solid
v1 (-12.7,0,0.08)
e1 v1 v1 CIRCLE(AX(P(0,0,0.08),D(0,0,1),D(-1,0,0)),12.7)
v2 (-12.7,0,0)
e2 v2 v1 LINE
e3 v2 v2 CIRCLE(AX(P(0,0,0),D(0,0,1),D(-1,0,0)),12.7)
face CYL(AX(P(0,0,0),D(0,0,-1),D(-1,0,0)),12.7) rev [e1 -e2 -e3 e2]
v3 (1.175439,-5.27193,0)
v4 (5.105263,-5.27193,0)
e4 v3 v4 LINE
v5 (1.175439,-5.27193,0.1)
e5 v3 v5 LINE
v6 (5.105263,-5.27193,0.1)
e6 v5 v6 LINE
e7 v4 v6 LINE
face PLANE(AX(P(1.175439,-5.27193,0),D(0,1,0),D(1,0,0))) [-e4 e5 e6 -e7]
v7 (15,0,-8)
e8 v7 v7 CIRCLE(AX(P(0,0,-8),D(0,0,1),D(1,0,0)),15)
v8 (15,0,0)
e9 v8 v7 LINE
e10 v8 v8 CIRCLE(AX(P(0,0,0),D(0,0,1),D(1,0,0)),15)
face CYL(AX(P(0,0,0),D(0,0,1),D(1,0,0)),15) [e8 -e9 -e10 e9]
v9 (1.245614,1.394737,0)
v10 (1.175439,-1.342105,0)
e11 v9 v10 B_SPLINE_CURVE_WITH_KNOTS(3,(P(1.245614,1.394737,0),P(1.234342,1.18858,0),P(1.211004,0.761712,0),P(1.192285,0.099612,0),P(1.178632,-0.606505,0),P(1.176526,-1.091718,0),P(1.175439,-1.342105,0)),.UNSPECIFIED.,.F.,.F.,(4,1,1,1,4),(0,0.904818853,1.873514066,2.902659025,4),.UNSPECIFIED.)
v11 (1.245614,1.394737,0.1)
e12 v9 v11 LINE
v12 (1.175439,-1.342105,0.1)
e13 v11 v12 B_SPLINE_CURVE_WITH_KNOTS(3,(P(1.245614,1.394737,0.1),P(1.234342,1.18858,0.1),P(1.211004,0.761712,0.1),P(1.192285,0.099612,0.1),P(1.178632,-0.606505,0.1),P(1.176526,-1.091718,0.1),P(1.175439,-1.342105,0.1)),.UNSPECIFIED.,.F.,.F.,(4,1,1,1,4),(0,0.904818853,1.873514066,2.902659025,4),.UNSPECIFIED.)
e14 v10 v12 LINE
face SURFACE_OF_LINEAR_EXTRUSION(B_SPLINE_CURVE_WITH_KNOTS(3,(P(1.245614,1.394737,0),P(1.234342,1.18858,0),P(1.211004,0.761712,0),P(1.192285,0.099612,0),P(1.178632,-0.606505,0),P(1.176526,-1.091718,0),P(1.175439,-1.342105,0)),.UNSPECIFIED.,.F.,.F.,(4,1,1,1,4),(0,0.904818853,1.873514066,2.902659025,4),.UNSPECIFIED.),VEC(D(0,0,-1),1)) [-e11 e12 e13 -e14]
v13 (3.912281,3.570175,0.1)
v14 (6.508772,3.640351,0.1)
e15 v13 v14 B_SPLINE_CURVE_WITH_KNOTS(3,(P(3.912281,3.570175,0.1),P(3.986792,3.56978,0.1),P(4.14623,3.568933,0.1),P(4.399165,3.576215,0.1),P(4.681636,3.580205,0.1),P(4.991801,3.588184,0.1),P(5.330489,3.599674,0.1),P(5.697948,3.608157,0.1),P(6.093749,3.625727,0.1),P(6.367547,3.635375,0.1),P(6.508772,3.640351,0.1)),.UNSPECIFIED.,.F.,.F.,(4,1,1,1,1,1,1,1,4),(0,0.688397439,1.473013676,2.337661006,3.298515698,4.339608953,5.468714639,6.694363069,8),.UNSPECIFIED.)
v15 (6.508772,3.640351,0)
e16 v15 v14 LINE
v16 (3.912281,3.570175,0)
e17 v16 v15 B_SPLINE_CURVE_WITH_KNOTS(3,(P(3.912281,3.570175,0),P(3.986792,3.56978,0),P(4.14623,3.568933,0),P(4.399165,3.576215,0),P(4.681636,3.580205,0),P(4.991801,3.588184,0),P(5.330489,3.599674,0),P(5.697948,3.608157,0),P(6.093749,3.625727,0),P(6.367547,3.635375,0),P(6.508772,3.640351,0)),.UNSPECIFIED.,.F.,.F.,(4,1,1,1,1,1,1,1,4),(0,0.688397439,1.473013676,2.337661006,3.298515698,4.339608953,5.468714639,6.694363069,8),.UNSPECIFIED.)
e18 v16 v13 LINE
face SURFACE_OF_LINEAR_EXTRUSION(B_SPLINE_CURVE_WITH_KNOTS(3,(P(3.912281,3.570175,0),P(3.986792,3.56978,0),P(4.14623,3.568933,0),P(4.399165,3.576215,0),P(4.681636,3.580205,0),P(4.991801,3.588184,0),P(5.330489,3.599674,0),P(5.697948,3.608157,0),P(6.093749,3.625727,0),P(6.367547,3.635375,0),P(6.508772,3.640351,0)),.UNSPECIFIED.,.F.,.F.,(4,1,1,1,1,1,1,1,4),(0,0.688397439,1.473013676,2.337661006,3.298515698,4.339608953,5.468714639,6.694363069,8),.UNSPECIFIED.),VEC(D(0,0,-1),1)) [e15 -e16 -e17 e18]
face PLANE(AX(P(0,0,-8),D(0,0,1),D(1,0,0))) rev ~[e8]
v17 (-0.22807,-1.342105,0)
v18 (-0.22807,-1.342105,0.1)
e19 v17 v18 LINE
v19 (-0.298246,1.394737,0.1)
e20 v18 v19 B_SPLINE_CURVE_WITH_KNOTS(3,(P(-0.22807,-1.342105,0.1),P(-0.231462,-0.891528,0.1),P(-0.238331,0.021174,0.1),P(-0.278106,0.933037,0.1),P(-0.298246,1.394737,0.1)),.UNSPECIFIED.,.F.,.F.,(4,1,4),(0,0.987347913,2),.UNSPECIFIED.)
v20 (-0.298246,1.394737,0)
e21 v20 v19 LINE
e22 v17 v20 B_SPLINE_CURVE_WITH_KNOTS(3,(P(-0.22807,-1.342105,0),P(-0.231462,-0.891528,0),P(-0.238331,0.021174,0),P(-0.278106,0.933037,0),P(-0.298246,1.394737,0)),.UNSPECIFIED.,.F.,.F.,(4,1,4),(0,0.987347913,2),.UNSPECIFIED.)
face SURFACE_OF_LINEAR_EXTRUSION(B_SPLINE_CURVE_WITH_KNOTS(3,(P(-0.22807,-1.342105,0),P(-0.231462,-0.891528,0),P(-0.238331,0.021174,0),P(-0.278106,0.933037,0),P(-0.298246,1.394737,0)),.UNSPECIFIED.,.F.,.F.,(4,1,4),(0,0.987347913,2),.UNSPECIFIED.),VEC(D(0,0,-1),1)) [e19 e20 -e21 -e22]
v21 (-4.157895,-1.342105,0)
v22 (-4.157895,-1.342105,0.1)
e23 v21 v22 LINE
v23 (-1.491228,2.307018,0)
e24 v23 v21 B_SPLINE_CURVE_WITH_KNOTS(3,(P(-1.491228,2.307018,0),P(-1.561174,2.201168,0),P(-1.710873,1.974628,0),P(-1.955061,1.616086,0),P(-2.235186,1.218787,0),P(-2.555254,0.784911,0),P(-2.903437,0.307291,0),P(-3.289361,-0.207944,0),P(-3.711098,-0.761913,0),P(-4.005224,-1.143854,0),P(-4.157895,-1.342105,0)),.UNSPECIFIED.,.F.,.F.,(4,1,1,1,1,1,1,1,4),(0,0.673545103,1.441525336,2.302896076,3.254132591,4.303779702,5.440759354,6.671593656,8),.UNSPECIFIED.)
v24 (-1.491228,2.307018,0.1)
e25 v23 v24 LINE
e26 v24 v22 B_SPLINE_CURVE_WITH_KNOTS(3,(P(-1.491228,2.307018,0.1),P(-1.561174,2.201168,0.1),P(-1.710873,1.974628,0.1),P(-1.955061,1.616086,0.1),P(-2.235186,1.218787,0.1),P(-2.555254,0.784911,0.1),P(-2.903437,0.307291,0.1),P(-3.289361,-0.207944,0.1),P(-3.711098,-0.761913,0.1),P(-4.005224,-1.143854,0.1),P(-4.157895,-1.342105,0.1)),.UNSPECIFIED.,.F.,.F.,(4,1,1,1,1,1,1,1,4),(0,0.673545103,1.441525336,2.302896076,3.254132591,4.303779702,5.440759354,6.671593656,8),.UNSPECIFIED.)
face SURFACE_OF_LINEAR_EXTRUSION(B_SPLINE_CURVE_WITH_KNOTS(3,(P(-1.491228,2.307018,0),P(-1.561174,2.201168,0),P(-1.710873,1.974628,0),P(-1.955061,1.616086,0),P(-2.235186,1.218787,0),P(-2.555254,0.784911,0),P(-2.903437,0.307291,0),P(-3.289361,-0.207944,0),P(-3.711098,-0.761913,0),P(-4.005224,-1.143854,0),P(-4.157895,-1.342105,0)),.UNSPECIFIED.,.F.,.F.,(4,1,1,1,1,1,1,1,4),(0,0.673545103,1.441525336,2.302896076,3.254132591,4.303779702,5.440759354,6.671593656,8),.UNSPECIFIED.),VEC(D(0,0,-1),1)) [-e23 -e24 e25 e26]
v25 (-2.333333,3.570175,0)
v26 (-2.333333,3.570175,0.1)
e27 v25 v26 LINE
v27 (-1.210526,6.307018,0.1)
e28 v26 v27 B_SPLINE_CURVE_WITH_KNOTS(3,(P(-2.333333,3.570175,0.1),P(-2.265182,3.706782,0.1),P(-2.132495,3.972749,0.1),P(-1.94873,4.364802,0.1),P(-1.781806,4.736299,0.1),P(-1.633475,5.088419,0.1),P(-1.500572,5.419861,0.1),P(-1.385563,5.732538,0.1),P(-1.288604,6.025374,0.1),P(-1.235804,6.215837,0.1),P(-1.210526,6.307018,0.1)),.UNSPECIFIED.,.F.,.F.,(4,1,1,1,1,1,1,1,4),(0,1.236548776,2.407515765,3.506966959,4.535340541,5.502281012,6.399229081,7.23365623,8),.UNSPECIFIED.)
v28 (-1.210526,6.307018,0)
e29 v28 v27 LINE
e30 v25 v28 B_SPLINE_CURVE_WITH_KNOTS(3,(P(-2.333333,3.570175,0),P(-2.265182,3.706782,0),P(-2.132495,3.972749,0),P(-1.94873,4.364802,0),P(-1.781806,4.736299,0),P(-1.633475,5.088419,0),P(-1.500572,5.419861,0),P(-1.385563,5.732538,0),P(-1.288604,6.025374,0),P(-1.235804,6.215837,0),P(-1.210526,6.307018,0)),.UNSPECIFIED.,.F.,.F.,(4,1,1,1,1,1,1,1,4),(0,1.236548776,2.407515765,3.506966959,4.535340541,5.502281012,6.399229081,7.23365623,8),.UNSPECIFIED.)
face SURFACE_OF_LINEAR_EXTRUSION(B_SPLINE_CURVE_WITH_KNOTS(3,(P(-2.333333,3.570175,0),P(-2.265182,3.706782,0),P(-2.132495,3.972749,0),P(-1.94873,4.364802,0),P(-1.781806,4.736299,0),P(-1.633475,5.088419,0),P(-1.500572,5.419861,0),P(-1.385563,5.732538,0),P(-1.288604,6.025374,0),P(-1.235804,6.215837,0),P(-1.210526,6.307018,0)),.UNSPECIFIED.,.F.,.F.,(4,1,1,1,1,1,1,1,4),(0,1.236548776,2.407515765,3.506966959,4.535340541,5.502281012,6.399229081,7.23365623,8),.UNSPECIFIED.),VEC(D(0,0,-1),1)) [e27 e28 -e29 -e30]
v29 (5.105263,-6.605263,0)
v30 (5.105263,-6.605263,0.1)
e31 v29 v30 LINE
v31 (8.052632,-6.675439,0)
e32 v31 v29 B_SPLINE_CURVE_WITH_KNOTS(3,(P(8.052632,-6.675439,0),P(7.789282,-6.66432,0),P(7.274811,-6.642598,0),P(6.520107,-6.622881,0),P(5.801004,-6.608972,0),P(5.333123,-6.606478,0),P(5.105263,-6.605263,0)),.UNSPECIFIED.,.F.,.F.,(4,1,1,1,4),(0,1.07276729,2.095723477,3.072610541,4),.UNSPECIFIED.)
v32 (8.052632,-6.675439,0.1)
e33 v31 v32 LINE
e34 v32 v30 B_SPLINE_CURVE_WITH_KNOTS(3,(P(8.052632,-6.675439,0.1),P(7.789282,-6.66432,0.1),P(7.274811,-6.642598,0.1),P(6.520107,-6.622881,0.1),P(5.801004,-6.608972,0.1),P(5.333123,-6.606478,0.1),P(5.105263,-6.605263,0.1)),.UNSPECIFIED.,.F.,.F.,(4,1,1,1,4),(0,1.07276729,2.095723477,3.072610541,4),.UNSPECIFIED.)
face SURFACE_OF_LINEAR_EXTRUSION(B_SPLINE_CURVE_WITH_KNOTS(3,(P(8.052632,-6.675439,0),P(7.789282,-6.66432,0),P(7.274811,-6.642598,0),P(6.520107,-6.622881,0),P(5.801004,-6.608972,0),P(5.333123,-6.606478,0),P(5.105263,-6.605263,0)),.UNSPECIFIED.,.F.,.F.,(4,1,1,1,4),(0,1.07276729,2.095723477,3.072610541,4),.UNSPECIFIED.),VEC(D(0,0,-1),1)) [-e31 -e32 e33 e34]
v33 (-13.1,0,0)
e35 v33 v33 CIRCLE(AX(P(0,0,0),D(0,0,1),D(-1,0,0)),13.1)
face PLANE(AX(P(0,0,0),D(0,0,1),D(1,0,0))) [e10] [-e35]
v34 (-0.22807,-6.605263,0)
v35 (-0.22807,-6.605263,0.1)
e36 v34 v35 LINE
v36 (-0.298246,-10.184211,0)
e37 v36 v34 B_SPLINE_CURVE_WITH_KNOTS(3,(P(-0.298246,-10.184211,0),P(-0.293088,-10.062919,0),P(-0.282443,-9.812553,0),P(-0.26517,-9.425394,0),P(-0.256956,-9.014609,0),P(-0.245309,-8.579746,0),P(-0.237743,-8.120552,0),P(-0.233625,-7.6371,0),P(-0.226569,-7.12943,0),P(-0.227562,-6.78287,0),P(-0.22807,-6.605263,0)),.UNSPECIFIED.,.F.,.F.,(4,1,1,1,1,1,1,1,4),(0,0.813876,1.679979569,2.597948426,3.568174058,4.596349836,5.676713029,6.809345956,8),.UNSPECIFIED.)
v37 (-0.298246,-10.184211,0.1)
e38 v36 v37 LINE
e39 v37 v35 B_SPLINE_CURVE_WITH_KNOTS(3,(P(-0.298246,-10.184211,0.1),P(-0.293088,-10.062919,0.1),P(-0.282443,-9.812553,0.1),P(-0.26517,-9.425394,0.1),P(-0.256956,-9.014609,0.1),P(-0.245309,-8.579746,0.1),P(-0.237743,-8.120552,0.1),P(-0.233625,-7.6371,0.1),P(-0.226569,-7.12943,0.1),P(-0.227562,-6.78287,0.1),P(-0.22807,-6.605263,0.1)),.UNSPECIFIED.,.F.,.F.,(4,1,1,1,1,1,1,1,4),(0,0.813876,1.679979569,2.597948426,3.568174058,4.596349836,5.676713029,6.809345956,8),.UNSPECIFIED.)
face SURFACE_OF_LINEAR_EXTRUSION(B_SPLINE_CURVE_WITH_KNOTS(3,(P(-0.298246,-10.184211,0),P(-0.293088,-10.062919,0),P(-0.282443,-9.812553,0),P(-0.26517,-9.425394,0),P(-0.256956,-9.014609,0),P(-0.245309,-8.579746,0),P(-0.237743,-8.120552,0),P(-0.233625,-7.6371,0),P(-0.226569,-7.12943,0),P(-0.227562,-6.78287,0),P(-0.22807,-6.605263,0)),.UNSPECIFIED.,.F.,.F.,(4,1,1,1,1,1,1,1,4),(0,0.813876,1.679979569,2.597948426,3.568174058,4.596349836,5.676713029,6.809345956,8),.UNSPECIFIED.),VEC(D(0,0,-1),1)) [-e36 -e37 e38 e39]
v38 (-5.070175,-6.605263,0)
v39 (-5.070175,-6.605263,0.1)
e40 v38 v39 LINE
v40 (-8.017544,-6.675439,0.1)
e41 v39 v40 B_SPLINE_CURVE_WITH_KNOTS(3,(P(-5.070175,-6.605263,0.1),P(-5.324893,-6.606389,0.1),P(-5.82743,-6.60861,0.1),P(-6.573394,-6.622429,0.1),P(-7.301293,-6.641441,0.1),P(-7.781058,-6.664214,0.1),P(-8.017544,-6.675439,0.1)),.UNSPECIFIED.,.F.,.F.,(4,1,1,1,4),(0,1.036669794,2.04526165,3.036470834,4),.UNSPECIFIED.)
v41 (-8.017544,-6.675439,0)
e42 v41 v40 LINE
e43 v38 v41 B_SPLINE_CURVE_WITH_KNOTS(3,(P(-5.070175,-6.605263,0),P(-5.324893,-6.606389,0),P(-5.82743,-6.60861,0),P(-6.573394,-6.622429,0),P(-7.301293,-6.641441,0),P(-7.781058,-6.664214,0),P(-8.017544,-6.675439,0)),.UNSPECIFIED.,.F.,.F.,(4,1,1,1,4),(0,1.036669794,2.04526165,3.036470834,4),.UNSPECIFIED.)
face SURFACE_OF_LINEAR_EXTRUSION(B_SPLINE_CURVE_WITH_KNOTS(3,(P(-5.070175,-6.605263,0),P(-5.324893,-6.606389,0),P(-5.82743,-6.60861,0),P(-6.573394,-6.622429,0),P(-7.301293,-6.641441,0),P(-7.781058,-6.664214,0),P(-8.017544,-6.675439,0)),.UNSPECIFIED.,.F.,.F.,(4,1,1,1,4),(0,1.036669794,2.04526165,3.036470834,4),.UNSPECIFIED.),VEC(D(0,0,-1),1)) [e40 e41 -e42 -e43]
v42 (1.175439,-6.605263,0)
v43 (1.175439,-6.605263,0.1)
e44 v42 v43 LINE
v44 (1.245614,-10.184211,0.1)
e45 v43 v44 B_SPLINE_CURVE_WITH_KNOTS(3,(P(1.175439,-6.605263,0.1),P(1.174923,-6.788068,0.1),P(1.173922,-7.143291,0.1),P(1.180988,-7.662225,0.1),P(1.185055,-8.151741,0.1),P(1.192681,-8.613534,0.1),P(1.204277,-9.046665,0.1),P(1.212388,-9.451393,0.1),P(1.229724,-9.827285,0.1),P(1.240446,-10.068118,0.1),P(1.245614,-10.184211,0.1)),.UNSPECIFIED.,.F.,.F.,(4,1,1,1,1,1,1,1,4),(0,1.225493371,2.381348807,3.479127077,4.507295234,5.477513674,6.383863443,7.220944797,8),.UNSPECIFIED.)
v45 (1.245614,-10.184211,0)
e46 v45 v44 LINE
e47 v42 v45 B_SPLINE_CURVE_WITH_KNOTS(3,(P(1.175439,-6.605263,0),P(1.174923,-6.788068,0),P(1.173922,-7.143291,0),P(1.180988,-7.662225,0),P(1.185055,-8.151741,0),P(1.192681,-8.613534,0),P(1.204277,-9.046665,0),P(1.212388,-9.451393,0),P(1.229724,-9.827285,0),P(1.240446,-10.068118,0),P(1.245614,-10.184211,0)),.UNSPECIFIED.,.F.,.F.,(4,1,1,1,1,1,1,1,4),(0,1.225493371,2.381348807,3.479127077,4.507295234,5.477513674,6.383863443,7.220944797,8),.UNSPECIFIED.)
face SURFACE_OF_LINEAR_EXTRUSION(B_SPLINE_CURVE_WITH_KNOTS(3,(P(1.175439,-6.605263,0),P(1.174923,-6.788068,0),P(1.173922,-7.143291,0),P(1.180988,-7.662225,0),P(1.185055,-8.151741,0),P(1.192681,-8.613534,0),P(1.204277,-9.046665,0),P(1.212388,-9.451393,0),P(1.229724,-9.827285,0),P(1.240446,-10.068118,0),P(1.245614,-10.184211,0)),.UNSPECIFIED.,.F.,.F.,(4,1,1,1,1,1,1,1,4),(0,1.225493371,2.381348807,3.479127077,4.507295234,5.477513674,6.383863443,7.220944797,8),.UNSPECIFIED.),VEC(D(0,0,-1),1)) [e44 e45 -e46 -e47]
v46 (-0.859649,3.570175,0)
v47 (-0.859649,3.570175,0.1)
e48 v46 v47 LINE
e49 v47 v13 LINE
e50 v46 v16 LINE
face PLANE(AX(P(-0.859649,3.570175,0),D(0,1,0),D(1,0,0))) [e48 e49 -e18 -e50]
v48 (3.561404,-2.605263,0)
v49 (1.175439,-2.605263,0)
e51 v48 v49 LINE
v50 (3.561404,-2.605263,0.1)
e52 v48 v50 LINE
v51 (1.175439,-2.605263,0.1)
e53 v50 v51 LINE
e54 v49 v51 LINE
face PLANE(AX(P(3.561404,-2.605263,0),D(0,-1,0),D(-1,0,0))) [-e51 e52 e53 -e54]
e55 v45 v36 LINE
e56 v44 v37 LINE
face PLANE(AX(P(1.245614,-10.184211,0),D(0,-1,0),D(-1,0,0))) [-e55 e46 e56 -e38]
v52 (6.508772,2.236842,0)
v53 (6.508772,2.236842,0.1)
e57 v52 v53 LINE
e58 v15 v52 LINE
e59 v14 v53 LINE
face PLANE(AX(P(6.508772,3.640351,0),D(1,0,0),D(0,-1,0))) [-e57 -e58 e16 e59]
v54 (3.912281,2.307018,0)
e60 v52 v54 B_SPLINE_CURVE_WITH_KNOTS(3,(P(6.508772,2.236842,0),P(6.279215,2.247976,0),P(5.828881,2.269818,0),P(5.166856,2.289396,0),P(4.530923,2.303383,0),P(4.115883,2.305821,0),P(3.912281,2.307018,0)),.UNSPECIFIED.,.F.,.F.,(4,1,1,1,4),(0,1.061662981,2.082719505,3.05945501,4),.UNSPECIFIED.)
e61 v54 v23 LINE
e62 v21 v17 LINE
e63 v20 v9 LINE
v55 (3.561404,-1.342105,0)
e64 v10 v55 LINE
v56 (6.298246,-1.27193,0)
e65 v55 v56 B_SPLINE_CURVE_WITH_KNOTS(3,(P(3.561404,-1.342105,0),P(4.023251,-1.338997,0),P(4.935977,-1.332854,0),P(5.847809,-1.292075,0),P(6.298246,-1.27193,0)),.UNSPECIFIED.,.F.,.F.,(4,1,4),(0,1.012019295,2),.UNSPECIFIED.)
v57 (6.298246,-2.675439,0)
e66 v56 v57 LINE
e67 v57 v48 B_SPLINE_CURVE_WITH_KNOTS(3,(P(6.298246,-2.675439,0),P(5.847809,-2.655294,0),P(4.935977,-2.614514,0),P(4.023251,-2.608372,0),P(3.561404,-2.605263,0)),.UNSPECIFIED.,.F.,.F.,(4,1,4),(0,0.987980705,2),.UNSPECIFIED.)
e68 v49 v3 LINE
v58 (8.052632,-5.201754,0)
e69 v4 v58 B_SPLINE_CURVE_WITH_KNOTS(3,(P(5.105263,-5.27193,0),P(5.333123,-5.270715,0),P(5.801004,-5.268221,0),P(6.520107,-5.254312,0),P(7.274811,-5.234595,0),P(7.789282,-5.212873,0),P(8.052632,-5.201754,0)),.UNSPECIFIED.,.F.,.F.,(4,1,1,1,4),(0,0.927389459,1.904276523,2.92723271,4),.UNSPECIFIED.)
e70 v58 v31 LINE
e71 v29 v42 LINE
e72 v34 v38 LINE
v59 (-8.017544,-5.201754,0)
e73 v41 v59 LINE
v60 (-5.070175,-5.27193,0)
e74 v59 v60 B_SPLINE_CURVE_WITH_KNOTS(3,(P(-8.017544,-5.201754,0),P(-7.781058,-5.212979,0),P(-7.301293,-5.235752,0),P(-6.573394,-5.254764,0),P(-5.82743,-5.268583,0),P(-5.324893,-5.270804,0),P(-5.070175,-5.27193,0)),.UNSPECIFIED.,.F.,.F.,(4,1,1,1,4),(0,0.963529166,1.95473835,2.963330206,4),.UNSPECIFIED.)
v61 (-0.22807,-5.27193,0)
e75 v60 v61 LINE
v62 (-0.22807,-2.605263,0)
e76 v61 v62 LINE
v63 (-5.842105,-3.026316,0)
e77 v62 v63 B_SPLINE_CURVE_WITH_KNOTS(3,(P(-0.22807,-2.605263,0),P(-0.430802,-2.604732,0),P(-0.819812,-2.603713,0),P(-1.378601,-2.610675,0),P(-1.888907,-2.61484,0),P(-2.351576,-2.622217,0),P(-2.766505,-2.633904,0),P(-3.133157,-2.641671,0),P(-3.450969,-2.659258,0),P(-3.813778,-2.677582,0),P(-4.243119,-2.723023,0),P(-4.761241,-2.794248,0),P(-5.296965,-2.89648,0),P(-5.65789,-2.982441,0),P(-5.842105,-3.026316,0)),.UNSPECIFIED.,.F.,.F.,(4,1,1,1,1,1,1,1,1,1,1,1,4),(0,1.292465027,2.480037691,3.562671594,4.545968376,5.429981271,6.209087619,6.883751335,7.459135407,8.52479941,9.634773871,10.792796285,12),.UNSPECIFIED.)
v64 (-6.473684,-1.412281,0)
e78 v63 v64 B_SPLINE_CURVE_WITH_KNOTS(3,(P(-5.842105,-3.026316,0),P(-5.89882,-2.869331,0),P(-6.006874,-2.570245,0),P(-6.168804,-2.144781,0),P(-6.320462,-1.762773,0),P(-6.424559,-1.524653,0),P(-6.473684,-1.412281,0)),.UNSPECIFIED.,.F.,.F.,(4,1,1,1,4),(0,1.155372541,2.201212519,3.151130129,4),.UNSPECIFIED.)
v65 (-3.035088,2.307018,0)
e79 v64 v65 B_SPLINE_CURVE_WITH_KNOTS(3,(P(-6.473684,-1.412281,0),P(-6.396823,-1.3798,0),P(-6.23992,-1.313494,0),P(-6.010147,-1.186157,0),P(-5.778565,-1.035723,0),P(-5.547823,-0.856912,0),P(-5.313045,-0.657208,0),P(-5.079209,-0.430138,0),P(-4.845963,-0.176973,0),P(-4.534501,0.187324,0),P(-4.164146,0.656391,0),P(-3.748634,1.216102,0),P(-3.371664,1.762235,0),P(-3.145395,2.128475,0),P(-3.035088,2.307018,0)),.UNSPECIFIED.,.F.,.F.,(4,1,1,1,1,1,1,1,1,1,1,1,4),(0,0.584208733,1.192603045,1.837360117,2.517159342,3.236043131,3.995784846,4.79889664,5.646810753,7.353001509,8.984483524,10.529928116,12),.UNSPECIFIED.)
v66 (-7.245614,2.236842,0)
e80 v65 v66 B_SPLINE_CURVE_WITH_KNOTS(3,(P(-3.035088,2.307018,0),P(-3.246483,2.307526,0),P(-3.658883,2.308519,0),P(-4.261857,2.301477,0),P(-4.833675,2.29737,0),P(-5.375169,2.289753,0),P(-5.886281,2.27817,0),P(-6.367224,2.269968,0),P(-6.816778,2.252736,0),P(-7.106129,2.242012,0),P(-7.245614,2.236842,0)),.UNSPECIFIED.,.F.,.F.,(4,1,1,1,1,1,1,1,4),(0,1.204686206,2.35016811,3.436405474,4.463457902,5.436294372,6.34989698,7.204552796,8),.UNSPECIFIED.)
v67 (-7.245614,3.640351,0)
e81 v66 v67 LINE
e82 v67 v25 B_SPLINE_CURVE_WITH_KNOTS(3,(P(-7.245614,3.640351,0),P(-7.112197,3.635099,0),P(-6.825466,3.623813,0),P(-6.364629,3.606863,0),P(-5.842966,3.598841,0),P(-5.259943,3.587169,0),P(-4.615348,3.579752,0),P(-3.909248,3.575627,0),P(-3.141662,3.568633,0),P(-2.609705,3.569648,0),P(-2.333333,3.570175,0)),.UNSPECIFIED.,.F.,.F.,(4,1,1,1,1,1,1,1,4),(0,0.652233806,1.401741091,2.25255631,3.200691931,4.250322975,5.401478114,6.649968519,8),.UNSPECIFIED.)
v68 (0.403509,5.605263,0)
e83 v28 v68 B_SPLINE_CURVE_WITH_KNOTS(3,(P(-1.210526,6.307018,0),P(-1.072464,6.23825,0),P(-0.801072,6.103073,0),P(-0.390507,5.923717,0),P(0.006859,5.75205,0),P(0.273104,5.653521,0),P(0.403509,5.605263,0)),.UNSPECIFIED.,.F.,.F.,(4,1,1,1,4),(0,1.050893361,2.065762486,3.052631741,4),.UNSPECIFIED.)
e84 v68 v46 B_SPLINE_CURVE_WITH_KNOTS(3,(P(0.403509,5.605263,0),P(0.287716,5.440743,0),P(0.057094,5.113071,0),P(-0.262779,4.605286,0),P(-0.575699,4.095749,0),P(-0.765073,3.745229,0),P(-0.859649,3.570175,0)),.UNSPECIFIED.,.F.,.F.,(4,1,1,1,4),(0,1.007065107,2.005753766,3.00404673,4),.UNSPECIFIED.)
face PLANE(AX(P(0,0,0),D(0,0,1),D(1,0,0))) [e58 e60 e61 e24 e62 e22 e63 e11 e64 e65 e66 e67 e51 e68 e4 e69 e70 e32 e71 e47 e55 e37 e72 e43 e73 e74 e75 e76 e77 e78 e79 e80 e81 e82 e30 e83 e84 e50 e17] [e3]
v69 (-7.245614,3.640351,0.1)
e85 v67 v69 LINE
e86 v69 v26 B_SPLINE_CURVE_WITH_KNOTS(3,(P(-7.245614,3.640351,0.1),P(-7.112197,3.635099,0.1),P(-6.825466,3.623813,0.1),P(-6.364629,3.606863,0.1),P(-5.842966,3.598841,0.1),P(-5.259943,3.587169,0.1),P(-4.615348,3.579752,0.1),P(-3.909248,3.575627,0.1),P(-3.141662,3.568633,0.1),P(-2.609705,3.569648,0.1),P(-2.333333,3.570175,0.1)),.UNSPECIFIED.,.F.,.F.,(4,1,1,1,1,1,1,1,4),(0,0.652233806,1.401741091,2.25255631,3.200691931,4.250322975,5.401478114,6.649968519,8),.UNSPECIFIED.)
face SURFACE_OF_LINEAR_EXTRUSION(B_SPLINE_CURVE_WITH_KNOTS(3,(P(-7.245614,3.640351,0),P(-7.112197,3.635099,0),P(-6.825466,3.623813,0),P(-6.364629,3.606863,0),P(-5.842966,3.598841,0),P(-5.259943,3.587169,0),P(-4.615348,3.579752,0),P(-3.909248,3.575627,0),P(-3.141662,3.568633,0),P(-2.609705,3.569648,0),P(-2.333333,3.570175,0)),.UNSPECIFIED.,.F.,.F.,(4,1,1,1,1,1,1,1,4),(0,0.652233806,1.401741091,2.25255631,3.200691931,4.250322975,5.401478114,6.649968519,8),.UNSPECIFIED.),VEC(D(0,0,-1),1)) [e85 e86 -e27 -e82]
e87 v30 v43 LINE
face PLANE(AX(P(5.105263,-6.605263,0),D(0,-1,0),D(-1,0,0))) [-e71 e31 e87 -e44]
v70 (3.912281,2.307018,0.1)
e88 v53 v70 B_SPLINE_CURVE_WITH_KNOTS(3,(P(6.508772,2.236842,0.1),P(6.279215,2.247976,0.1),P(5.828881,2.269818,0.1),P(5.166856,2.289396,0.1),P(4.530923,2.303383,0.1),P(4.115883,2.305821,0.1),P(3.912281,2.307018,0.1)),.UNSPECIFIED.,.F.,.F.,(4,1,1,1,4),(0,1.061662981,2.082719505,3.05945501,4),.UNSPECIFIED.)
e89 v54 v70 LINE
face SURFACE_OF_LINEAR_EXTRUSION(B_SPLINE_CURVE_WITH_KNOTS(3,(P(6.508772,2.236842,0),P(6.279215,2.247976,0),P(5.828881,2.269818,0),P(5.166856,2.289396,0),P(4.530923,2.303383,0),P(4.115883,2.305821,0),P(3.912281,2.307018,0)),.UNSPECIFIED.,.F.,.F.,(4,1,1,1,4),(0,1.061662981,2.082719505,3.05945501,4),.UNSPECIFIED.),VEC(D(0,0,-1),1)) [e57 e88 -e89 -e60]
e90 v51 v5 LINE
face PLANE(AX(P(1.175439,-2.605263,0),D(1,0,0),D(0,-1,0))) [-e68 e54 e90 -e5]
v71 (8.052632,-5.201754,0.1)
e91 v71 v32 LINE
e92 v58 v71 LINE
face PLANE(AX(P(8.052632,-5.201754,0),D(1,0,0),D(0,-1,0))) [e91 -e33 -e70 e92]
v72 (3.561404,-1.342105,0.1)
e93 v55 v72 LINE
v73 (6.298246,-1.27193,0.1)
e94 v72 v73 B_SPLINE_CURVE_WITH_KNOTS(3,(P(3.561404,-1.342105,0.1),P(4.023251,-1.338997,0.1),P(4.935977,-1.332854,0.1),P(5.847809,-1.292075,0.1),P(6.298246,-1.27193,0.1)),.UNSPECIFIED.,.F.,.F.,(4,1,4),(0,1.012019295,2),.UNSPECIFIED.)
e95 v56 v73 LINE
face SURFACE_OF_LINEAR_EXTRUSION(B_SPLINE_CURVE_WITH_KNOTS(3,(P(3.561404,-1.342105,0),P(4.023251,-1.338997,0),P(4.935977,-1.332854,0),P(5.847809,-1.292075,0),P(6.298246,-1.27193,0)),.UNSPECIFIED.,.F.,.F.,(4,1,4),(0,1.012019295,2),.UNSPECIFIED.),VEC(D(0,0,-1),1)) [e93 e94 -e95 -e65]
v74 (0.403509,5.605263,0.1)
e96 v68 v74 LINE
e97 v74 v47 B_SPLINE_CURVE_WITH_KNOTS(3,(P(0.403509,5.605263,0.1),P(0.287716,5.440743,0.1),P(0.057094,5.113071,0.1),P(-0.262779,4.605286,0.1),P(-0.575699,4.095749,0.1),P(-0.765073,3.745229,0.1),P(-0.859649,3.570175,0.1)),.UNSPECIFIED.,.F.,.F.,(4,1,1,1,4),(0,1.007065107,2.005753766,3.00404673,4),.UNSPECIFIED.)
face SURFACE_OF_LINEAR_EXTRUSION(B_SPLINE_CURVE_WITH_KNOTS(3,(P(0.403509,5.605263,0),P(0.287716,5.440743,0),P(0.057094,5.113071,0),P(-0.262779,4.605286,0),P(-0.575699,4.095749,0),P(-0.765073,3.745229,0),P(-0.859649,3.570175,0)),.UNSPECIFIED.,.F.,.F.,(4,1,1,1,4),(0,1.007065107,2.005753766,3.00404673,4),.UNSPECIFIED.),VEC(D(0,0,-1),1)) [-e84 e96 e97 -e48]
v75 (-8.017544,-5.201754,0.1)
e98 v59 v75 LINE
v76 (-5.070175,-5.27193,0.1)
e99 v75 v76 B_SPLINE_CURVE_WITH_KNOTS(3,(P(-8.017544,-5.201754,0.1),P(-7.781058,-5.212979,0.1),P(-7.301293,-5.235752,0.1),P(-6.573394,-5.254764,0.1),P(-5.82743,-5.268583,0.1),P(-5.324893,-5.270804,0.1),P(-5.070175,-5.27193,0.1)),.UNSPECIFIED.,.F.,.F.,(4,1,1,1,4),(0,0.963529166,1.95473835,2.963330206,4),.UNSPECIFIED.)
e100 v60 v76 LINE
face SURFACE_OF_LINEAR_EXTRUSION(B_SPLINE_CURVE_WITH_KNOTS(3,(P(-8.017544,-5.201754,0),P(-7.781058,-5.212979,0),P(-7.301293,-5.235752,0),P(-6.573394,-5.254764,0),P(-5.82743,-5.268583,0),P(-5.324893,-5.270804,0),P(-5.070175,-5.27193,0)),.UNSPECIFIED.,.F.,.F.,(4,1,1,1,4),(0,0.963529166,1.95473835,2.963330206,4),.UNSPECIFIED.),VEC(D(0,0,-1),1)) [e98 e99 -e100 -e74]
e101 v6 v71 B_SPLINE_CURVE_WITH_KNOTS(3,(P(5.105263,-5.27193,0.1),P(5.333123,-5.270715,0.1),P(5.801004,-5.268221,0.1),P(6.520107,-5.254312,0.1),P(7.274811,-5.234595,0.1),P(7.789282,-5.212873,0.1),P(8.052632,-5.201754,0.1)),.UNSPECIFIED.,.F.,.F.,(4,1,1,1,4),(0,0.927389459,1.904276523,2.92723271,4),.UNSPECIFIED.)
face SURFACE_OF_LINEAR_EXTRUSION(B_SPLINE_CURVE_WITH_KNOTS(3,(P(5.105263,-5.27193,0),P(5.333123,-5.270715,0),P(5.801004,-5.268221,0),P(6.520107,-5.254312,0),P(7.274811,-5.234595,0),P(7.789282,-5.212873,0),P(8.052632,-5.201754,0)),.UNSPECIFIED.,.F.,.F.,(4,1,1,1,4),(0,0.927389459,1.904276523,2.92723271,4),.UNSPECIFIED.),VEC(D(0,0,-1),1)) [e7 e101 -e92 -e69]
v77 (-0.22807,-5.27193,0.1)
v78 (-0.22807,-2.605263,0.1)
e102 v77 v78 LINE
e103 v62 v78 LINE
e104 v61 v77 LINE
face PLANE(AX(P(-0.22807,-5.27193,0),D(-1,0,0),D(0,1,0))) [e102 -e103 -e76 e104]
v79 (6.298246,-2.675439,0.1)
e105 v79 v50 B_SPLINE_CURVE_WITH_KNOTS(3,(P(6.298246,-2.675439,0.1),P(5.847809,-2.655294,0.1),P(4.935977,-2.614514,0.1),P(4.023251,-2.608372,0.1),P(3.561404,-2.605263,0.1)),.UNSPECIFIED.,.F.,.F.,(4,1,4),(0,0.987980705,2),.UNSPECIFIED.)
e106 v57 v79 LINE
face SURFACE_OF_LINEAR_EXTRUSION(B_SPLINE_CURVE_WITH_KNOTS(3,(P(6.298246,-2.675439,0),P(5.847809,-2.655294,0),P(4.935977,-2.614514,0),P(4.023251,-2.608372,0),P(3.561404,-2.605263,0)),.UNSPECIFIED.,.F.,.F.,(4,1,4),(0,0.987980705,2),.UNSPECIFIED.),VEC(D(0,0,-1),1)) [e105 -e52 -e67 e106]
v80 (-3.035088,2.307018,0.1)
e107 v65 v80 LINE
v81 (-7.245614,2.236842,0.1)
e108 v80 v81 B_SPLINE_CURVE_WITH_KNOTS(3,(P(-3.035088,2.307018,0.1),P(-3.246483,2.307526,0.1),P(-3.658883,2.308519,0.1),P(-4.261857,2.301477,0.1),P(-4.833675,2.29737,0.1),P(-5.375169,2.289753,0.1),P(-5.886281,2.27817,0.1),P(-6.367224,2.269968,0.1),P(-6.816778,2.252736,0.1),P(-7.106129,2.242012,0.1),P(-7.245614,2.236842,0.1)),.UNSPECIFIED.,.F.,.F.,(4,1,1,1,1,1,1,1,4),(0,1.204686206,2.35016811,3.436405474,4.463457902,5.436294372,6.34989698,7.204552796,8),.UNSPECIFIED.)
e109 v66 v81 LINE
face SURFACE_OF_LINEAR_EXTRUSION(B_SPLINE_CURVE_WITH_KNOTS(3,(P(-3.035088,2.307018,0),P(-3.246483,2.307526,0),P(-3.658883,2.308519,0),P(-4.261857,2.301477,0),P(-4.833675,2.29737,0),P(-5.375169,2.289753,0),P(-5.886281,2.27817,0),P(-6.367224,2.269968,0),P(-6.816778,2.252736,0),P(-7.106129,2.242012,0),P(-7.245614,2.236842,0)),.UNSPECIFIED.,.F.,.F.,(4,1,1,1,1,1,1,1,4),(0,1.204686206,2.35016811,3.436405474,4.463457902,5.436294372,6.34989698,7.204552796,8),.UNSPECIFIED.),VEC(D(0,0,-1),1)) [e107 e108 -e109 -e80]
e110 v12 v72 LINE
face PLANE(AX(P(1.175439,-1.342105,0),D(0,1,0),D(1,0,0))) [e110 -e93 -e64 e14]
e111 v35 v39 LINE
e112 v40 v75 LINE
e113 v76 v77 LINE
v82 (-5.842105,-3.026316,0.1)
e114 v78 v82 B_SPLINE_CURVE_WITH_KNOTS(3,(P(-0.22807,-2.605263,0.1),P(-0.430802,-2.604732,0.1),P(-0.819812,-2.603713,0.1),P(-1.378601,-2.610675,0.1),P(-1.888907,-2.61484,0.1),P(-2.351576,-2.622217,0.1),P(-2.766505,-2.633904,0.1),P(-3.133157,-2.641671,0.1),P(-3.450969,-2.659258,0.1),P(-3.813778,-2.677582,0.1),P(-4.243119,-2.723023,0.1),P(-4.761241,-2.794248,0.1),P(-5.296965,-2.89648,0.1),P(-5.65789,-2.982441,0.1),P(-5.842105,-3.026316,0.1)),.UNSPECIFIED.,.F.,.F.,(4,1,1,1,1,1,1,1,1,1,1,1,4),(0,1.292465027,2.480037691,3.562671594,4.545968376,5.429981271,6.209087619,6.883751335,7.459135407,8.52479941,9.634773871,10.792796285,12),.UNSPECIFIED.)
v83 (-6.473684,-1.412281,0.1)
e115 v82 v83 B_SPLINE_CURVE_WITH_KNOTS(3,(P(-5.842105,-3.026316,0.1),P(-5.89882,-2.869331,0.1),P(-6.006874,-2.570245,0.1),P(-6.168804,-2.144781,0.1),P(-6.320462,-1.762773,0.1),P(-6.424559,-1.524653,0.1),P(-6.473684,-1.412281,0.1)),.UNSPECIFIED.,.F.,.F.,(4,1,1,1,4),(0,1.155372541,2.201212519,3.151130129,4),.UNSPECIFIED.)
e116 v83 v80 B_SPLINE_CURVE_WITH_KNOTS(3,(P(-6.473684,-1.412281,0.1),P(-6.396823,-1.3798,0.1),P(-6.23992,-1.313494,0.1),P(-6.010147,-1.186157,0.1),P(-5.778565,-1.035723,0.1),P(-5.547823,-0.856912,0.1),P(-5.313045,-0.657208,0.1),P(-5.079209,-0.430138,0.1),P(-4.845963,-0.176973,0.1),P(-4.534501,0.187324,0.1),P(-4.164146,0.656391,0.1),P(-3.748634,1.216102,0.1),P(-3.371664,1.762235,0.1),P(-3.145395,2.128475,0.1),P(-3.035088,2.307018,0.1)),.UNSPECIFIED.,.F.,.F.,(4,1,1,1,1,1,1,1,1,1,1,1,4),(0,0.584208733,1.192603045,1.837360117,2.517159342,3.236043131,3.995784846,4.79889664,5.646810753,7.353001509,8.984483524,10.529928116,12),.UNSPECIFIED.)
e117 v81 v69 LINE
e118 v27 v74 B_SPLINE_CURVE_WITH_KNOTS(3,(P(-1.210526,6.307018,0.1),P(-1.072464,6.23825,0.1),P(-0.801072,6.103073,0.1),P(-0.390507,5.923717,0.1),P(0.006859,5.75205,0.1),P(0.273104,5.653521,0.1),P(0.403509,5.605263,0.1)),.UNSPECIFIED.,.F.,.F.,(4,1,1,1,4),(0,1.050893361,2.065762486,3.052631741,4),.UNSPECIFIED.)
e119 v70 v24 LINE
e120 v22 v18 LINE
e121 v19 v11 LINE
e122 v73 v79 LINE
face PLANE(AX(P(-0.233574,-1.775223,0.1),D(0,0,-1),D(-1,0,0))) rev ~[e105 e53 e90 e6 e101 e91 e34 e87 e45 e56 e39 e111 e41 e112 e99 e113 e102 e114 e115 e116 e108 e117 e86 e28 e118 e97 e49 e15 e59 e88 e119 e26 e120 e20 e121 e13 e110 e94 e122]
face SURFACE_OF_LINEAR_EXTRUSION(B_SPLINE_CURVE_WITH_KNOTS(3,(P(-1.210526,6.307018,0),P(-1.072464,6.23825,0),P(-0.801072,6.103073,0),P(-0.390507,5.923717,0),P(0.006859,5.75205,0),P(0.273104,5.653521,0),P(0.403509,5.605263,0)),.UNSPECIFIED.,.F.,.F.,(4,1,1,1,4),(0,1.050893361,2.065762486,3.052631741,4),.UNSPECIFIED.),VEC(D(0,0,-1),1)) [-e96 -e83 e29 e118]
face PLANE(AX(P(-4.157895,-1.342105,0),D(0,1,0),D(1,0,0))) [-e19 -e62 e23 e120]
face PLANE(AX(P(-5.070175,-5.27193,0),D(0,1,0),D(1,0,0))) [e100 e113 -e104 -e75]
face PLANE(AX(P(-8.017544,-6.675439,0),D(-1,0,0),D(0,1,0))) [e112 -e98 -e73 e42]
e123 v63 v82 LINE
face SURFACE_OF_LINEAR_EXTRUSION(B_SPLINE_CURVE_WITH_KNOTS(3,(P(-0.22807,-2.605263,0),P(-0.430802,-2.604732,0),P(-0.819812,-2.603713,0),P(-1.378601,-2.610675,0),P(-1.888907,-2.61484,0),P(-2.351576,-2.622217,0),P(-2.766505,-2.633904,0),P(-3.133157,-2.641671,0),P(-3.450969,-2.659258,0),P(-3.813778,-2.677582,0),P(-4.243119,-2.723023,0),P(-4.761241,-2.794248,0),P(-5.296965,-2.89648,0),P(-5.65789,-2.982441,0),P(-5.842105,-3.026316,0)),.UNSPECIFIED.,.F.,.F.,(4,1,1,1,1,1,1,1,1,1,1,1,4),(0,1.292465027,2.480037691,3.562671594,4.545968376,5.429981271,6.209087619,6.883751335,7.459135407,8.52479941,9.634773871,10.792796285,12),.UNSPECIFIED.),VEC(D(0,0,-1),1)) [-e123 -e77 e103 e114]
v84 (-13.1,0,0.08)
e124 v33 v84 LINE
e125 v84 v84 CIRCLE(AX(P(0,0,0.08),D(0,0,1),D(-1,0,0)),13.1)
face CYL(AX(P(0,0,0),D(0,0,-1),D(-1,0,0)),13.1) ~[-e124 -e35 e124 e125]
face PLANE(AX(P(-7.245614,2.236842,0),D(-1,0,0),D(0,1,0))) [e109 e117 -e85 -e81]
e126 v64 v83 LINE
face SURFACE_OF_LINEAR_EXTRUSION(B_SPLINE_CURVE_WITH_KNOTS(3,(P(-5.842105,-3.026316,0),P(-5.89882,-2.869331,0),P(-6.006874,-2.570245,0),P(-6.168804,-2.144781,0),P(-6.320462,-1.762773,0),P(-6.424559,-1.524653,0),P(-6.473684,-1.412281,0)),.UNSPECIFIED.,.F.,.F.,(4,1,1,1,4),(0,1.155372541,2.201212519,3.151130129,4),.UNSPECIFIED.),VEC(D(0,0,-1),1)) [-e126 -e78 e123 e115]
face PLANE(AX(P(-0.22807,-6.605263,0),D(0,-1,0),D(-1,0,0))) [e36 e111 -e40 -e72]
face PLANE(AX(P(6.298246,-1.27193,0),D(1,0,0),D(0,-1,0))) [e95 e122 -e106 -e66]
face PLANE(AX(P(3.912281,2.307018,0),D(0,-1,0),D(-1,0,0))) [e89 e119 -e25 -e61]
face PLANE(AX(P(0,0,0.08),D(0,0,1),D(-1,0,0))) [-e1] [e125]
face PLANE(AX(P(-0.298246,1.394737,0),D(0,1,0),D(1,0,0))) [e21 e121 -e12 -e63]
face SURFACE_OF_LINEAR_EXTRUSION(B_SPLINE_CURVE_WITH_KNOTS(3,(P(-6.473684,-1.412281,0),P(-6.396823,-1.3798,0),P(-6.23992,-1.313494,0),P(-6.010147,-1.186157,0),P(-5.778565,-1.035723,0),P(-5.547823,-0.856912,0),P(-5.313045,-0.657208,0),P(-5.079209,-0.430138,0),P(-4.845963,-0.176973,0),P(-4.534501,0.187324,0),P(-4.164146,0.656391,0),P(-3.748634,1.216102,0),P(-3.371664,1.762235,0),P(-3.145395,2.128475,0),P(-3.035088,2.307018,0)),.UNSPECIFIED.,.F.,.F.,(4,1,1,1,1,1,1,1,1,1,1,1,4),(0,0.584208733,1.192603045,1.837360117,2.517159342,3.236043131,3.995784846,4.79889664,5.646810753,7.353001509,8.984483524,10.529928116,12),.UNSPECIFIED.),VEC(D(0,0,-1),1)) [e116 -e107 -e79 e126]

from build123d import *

# Parameters (mm, degrees)
SKETCH_1_R               = 15
DIAMETER30_HEIGHT8_DEPTH = 8
CHARACTER_DEPTH          = 0.1
SKETCH_3_R               = 13.1
SKETCH_3_R_2             = 12.7
INK_RING_DEPTH           = 0.08


with BuildPart() as part:
    # 草图1 → Diameter30_Height8 (new body)
    with BuildSketch(Plane.XY):
        Circle(SKETCH_1_R)
    extrude(amount=-DIAMETER30_HEIGHT8_DEPTH)

    # 草图2 → Character_车 (add)
    with BuildSketch(Plane.XY):
        with BuildLine():
            add(Edge.make_bspline(
                [(-5.842105263, -3.026315789), (-5.898820329, -2.869331425), (-6.006873714, -2.570245254), (-6.168804206, -2.144780878), (-6.320461844, -1.762772614), (-6.42455933, -1.524652502), (-6.473684211, -1.412280702)],
                knots=[0, 0, 0, 0, 1.155372541, 2.201212519, 3.151130129, 4, 4, 4, 4], degree=3))
            add(Edge.make_bspline(
                [(-6.473684211, -1.412280702), (-6.396823444, -1.379800087), (-6.239919961, -1.313494196), (-6.010146568, -1.186156652), (-5.778564765, -1.035723149), (-5.547823353, -0.856912408), (-5.313044861, -0.657208498), (-5.079209262, -0.430138074), (-4.845963085, -0.176973346), (-4.534501394, 0.18732381), (-4.164145867, 0.656391458), (-3.748633816, 1.216101595), (-3.371664409, 1.762234908), (-3.145394749, 2.128474715), (-3.035087719, 2.307017544)],
                knots=[0, 0, 0, 0, 0.584208733, 1.192603045, 1.837360117, 2.517159342, 3.236043131, 3.995784846, 4.79889664, 5.646810753, 7.353001509, 8.984483524, 10.529928116, 12, 12, 12, 12], degree=3))
            add(Edge.make_bspline(
                [(-3.035087719, 2.307017544), (-3.246482619, 2.307526273), (-3.658883418, 2.308518731), (-4.261856974, 2.301476847), (-4.833674599, 2.297370313), (-5.375169247, 2.289752816), (-5.886281193, 2.27816959), (-6.367224064, 2.269967872), (-6.816777836, 2.252736276), (-7.106129451, 2.242011892), (-7.245614035, 2.236842105)],
                knots=[0, 0, 0, 0, 1.204686206, 2.35016811, 3.436405474, 4.463457902, 5.436294372, 6.34989698, 7.204552796, 8, 8, 8, 8], degree=3))
            Line((-7.245614035, 2.236842105), (-7.245614035, 3.640350877))
            add(Edge.make_bspline(
                [(-7.245614035, 3.640350877), (-7.112197092, 3.635099441), (-6.825465539, 3.623813374), (-6.364629063, 3.606862837), (-5.842966328, 3.598841349), (-5.259942843, 3.587169275), (-4.61534822, 3.57975231), (-3.909248078, 3.575626696), (-3.141661522, 3.568632873), (-2.609705057, 3.569648027), (-2.333333333, 3.570175439)],
                knots=[0, 0, 0, 0, 0.652233806, 1.401741091, 2.25255631, 3.200691931, 4.250322975, 5.401478114, 6.649968519, 8, 8, 8, 8], degree=3))
            add(Edge.make_bspline(
                [(-2.333333333, 3.570175439), (-2.265182445, 3.706781651), (-2.13249513, 3.972749008), (-1.948730322, 4.364802108), (-1.781805751, 4.736299128), (-1.633474827, 5.088418502), (-1.500571846, 5.419860952), (-1.385562669, 5.732537711), (-1.288604233, 6.025373857), (-1.235803724, 6.215836544), (-1.210526316, 6.307017544)],
                knots=[0, 0, 0, 0, 1.236548776, 2.407515765, 3.506966959, 4.535340541, 5.502281012, 6.399229081, 7.23365623, 8, 8, 8, 8], degree=3))
            add(Edge.make_bspline(
                [(-1.210526316, 6.307017544), (-1.072464078, 6.238250423), (-0.801072324, 6.103073492), (-0.390506761, 5.92371698), (0.006858558, 5.752049753), (0.273104458, 5.653521307), (0.403508772, 5.605263158)],
                knots=[0, 0, 0, 0, 1.050893361, 2.065762486, 3.052631741, 4, 4, 4, 4], degree=3))
            add(Edge.make_bspline(
                [(0.403508772, 5.605263158), (0.287716291, 5.440743002), (0.057094455, 5.113071117), (-0.262779106, 4.605286149), (-0.575699306, 4.095748706), (-0.765073243, 3.745229449), (-0.859649123, 3.570175439)],
                knots=[0, 0, 0, 0, 1.007065107, 2.005753766, 3.00404673, 4, 4, 4, 4], degree=3))
            Line((-0.859649123, 3.570175439), (3.912280702, 3.570175439))
            add(Edge.make_bspline(
                [(3.912280702, 3.570175439), (3.986792128, 3.569779735), (4.146229603, 3.568933021), (4.399164705, 3.576215116), (4.681635542, 3.580205028), (4.991801347, 3.588183635), (5.330489118, 3.599673551), (5.697948203, 3.608156571), (6.093748619, 3.625727153), (6.367546823, 3.635374682), (6.50877193, 3.640350877)],
                knots=[0, 0, 0, 0, 0.688397439, 1.473013676, 2.337661006, 3.298515698, 4.339608953, 5.468714639, 6.694363069, 8, 8, 8, 8], degree=3))
            Line((6.50877193, 3.640350877), (6.50877193, 2.236842105))
            add(Edge.make_bspline(
                [(6.50877193, 2.236842105), (6.279214943, 2.247975922), (5.82888106, 2.269817709), (5.1668562, 2.289395513), (4.530922728, 2.303382911), (4.115883288, 2.305821342), (3.912280702, 2.307017544)],
                knots=[0, 0, 0, 0, 1.061662981, 2.082719505, 3.05945501, 4, 4, 4, 4], degree=3))
            Line((3.912280702, 2.307017544), (-1.49122807, 2.307017544))
            add(Edge.make_bspline(
                [(-1.49122807, 2.307017544), (-1.56117399, 2.201167925), (-1.710872673, 1.974627926), (-1.95506101, 1.616085811), (-2.235185889, 1.218787258), (-2.555254083, 0.784910796), (-2.903437302, 0.30729052), (-3.289360757, -0.207943656), (-3.711097719, -0.76191269), (-4.005224498, -1.143853854), (-4.157894737, -1.342105263)],
                knots=[0, 0, 0, 0, 0.673545103, 1.441525336, 2.302896076, 3.254132591, 4.303779702, 5.440759354, 6.671593656, 8, 8, 8, 8], degree=3))
            Line((-4.157894737, -1.342105263), (-0.228070175, -1.342105263))
            add(Edge.make_bspline(
                [(-0.228070175, -1.342105263), (-0.231461537, -0.891528138), (-0.238331174, 0.021173694), (-0.278106388, 0.933036802), (-0.298245614, 1.394736842)],
                knots=[0, 0, 0, 0, 0.987347913, 2, 2, 2, 2], degree=3))
            Line((-0.298245614, 1.394736842), (1.245614035, 1.394736842))
            add(Edge.make_bspline(
                [(1.245614035, 1.394736842), (1.234342441, 1.188579897), (1.211003525, 0.761712205), (1.192285381, 0.099612341), (1.178632375, -0.606505386), (1.176525709, -1.091718406), (1.175438596, -1.342105263)],
                knots=[0, 0, 0, 0, 0.904818853, 1.873514066, 2.902659025, 4, 4, 4, 4], degree=3))
            Line((1.175438596, -1.342105263), (3.561403509, -1.342105263))
            add(Edge.make_bspline(
                [(3.561403509, -1.342105263), (4.023251472, -1.338996907), (4.935977079, -1.332854028), (5.847809296, -1.292074512), (6.298245614, -1.271929825)],
                knots=[0, 0, 0, 0, 1.012019295, 2, 2, 2, 2], degree=3))
            Line((6.298245614, -1.271929825), (6.298245614, -2.675438596))
            add(Edge.make_bspline(
                [(6.298245614, -2.675438596), (5.847809296, -2.655293909), (4.935977079, -2.614514393), (4.023251472, -2.608371514), (3.561403509, -2.605263158)],
                knots=[0, 0, 0, 0, 0.987980705, 2, 2, 2, 2], degree=3))
            Line((3.561403509, -2.605263158), (1.175438596, -2.605263158))
            Line((1.175438596, -2.605263158), (1.175438596, -5.271929825))
            Line((1.175438596, -5.271929825), (5.105263158, -5.271929825))
            add(Edge.make_bspline(
                [(5.105263158, -5.271929825), (5.333122844, -5.270715306), (5.801003783, -5.268221447), (6.520106526, -5.254311899), (7.274811493, -5.234595053), (7.789282241, -5.212873368), (8.052631579, -5.201754386)],
                knots=[0, 0, 0, 0, 0.927389459, 1.904276523, 2.92723271, 4, 4, 4, 4], degree=3))
            Line((8.052631579, -5.201754386), (8.052631579, -6.675438596))
            add(Edge.make_bspline(
                [(8.052631579, -6.675438596), (7.789282241, -6.664319614), (7.274811493, -6.64259793), (6.520106526, -6.622881083), (5.801003783, -6.608971535), (5.333122844, -6.606477676), (5.105263158, -6.605263158)],
                knots=[0, 0, 0, 0, 1.07276729, 2.095723477, 3.072610541, 4, 4, 4, 4], degree=3))
            Line((5.105263158, -6.605263158), (1.175438596, -6.605263158))
            add(Edge.make_bspline(
                [(1.175438596, -6.605263158), (1.17492319, -6.788068469), (1.173921664, -7.143291287), (1.180988322, -7.662224869), (1.185055025, -8.151741366), (1.192680502, -8.613534144), (1.204276819, -9.04666503), (1.212388046, -9.451393023), (1.229724118, -9.827285169), (1.240445713, -10.06811771), (1.245614035, -10.184210526)],
                knots=[0, 0, 0, 0, 1.225493371, 2.381348807, 3.479127077, 4.507295234, 5.477513674, 6.383863443, 7.220944797, 8, 8, 8, 8], degree=3))
            Line((1.245614035, -10.184210526), (-0.298245614, -10.184210526))
            add(Edge.make_bspline(
                [(-0.298245614, -10.184210526), (-0.293088467, -10.062919018), (-0.28244323, -9.812552555), (-0.26517016, -9.425394066), (-0.256955584, -9.014609066), (-0.245308677, -8.579745809), (-0.237743343, -8.120551737), (-0.233625145, -7.637100266), (-0.226569426, -7.129429714), (-0.227561666, -6.782870303), (-0.228070175, -6.605263158)],
                knots=[0, 0, 0, 0, 0.813876, 1.679979569, 2.597948426, 3.568174058, 4.596349836, 5.676713029, 6.809345956, 8, 8, 8, 8], degree=3))
            Line((-0.228070175, -6.605263158), (-5.070175439, -6.605263158))
            add(Edge.make_bspline(
                [(-5.070175439, -6.605263158), (-5.324893201, -6.606388994), (-5.827429759, -6.608610173), (-6.573394245, -6.622429105), (-7.301292576, -6.641441143), (-7.781058, -6.664213602), (-8.01754386, -6.675438596)],
                knots=[0, 0, 0, 0, 1.036669794, 2.04526165, 3.036470834, 4, 4, 4, 4], degree=3))
            Line((-8.01754386, -6.675438596), (-8.01754386, -5.201754386))
            add(Edge.make_bspline(
                [(-8.01754386, -5.201754386), (-7.781058, -5.212979381), (-7.301292576, -5.235751839), (-6.573394245, -5.254763877), (-5.827429759, -5.268582809), (-5.324893201, -5.270803988), (-5.070175439, -5.271929825)],
                knots=[0, 0, 0, 0, 0.963529166, 1.95473835, 2.963330206, 4, 4, 4, 4], degree=3))
            Line((-5.070175439, -5.271929825), (-0.228070175, -5.271929825))
            Line((-0.228070175, -5.271929825), (-0.228070175, -2.605263158))
            add(Edge.make_bspline(
                [(-0.228070175, -2.605263158), (-0.430801667, -2.604732204), (-0.819811605, -2.603713387), (-1.378600845, -2.610674903), (-1.888907343, -2.614839935), (-2.351576194, -2.622216615), (-2.76650508, -2.633903903), (-3.133156573, -2.641670696), (-3.450969213, -2.659258343), (-3.813777921, -2.677582124), (-4.243119388, -2.723022723), (-4.761241386, -2.794248367), (-5.296964879, -2.896480162), (-5.65789017, -2.982441435), (-5.842105263, -3.026315789)],
                knots=[0, 0, 0, 0, 1.292465027, 2.480037691, 3.562671594, 4.545968376, 5.429981271, 6.209087619, 6.883751335, 7.459135407, 8.52479941, 9.634773871, 10.792796285, 12, 12, 12, 12], degree=3))
        make_face()
    extrude(amount=CHARACTER_DEPTH)

    # 草图3 → Ink_ring (add)
    with BuildSketch(Plane.XY):
        with Locations(Location((0, 0, 0), (0, 0, 180))):
            Circle(SKETCH_3_R)
        with Locations(Location((0, 0, 0), (0, 0, 180))):
            Circle(SKETCH_3_R_2, mode=Mode.SUBTRACT)
    extrude(amount=INK_RING_DEPTH)


solid = part.part
